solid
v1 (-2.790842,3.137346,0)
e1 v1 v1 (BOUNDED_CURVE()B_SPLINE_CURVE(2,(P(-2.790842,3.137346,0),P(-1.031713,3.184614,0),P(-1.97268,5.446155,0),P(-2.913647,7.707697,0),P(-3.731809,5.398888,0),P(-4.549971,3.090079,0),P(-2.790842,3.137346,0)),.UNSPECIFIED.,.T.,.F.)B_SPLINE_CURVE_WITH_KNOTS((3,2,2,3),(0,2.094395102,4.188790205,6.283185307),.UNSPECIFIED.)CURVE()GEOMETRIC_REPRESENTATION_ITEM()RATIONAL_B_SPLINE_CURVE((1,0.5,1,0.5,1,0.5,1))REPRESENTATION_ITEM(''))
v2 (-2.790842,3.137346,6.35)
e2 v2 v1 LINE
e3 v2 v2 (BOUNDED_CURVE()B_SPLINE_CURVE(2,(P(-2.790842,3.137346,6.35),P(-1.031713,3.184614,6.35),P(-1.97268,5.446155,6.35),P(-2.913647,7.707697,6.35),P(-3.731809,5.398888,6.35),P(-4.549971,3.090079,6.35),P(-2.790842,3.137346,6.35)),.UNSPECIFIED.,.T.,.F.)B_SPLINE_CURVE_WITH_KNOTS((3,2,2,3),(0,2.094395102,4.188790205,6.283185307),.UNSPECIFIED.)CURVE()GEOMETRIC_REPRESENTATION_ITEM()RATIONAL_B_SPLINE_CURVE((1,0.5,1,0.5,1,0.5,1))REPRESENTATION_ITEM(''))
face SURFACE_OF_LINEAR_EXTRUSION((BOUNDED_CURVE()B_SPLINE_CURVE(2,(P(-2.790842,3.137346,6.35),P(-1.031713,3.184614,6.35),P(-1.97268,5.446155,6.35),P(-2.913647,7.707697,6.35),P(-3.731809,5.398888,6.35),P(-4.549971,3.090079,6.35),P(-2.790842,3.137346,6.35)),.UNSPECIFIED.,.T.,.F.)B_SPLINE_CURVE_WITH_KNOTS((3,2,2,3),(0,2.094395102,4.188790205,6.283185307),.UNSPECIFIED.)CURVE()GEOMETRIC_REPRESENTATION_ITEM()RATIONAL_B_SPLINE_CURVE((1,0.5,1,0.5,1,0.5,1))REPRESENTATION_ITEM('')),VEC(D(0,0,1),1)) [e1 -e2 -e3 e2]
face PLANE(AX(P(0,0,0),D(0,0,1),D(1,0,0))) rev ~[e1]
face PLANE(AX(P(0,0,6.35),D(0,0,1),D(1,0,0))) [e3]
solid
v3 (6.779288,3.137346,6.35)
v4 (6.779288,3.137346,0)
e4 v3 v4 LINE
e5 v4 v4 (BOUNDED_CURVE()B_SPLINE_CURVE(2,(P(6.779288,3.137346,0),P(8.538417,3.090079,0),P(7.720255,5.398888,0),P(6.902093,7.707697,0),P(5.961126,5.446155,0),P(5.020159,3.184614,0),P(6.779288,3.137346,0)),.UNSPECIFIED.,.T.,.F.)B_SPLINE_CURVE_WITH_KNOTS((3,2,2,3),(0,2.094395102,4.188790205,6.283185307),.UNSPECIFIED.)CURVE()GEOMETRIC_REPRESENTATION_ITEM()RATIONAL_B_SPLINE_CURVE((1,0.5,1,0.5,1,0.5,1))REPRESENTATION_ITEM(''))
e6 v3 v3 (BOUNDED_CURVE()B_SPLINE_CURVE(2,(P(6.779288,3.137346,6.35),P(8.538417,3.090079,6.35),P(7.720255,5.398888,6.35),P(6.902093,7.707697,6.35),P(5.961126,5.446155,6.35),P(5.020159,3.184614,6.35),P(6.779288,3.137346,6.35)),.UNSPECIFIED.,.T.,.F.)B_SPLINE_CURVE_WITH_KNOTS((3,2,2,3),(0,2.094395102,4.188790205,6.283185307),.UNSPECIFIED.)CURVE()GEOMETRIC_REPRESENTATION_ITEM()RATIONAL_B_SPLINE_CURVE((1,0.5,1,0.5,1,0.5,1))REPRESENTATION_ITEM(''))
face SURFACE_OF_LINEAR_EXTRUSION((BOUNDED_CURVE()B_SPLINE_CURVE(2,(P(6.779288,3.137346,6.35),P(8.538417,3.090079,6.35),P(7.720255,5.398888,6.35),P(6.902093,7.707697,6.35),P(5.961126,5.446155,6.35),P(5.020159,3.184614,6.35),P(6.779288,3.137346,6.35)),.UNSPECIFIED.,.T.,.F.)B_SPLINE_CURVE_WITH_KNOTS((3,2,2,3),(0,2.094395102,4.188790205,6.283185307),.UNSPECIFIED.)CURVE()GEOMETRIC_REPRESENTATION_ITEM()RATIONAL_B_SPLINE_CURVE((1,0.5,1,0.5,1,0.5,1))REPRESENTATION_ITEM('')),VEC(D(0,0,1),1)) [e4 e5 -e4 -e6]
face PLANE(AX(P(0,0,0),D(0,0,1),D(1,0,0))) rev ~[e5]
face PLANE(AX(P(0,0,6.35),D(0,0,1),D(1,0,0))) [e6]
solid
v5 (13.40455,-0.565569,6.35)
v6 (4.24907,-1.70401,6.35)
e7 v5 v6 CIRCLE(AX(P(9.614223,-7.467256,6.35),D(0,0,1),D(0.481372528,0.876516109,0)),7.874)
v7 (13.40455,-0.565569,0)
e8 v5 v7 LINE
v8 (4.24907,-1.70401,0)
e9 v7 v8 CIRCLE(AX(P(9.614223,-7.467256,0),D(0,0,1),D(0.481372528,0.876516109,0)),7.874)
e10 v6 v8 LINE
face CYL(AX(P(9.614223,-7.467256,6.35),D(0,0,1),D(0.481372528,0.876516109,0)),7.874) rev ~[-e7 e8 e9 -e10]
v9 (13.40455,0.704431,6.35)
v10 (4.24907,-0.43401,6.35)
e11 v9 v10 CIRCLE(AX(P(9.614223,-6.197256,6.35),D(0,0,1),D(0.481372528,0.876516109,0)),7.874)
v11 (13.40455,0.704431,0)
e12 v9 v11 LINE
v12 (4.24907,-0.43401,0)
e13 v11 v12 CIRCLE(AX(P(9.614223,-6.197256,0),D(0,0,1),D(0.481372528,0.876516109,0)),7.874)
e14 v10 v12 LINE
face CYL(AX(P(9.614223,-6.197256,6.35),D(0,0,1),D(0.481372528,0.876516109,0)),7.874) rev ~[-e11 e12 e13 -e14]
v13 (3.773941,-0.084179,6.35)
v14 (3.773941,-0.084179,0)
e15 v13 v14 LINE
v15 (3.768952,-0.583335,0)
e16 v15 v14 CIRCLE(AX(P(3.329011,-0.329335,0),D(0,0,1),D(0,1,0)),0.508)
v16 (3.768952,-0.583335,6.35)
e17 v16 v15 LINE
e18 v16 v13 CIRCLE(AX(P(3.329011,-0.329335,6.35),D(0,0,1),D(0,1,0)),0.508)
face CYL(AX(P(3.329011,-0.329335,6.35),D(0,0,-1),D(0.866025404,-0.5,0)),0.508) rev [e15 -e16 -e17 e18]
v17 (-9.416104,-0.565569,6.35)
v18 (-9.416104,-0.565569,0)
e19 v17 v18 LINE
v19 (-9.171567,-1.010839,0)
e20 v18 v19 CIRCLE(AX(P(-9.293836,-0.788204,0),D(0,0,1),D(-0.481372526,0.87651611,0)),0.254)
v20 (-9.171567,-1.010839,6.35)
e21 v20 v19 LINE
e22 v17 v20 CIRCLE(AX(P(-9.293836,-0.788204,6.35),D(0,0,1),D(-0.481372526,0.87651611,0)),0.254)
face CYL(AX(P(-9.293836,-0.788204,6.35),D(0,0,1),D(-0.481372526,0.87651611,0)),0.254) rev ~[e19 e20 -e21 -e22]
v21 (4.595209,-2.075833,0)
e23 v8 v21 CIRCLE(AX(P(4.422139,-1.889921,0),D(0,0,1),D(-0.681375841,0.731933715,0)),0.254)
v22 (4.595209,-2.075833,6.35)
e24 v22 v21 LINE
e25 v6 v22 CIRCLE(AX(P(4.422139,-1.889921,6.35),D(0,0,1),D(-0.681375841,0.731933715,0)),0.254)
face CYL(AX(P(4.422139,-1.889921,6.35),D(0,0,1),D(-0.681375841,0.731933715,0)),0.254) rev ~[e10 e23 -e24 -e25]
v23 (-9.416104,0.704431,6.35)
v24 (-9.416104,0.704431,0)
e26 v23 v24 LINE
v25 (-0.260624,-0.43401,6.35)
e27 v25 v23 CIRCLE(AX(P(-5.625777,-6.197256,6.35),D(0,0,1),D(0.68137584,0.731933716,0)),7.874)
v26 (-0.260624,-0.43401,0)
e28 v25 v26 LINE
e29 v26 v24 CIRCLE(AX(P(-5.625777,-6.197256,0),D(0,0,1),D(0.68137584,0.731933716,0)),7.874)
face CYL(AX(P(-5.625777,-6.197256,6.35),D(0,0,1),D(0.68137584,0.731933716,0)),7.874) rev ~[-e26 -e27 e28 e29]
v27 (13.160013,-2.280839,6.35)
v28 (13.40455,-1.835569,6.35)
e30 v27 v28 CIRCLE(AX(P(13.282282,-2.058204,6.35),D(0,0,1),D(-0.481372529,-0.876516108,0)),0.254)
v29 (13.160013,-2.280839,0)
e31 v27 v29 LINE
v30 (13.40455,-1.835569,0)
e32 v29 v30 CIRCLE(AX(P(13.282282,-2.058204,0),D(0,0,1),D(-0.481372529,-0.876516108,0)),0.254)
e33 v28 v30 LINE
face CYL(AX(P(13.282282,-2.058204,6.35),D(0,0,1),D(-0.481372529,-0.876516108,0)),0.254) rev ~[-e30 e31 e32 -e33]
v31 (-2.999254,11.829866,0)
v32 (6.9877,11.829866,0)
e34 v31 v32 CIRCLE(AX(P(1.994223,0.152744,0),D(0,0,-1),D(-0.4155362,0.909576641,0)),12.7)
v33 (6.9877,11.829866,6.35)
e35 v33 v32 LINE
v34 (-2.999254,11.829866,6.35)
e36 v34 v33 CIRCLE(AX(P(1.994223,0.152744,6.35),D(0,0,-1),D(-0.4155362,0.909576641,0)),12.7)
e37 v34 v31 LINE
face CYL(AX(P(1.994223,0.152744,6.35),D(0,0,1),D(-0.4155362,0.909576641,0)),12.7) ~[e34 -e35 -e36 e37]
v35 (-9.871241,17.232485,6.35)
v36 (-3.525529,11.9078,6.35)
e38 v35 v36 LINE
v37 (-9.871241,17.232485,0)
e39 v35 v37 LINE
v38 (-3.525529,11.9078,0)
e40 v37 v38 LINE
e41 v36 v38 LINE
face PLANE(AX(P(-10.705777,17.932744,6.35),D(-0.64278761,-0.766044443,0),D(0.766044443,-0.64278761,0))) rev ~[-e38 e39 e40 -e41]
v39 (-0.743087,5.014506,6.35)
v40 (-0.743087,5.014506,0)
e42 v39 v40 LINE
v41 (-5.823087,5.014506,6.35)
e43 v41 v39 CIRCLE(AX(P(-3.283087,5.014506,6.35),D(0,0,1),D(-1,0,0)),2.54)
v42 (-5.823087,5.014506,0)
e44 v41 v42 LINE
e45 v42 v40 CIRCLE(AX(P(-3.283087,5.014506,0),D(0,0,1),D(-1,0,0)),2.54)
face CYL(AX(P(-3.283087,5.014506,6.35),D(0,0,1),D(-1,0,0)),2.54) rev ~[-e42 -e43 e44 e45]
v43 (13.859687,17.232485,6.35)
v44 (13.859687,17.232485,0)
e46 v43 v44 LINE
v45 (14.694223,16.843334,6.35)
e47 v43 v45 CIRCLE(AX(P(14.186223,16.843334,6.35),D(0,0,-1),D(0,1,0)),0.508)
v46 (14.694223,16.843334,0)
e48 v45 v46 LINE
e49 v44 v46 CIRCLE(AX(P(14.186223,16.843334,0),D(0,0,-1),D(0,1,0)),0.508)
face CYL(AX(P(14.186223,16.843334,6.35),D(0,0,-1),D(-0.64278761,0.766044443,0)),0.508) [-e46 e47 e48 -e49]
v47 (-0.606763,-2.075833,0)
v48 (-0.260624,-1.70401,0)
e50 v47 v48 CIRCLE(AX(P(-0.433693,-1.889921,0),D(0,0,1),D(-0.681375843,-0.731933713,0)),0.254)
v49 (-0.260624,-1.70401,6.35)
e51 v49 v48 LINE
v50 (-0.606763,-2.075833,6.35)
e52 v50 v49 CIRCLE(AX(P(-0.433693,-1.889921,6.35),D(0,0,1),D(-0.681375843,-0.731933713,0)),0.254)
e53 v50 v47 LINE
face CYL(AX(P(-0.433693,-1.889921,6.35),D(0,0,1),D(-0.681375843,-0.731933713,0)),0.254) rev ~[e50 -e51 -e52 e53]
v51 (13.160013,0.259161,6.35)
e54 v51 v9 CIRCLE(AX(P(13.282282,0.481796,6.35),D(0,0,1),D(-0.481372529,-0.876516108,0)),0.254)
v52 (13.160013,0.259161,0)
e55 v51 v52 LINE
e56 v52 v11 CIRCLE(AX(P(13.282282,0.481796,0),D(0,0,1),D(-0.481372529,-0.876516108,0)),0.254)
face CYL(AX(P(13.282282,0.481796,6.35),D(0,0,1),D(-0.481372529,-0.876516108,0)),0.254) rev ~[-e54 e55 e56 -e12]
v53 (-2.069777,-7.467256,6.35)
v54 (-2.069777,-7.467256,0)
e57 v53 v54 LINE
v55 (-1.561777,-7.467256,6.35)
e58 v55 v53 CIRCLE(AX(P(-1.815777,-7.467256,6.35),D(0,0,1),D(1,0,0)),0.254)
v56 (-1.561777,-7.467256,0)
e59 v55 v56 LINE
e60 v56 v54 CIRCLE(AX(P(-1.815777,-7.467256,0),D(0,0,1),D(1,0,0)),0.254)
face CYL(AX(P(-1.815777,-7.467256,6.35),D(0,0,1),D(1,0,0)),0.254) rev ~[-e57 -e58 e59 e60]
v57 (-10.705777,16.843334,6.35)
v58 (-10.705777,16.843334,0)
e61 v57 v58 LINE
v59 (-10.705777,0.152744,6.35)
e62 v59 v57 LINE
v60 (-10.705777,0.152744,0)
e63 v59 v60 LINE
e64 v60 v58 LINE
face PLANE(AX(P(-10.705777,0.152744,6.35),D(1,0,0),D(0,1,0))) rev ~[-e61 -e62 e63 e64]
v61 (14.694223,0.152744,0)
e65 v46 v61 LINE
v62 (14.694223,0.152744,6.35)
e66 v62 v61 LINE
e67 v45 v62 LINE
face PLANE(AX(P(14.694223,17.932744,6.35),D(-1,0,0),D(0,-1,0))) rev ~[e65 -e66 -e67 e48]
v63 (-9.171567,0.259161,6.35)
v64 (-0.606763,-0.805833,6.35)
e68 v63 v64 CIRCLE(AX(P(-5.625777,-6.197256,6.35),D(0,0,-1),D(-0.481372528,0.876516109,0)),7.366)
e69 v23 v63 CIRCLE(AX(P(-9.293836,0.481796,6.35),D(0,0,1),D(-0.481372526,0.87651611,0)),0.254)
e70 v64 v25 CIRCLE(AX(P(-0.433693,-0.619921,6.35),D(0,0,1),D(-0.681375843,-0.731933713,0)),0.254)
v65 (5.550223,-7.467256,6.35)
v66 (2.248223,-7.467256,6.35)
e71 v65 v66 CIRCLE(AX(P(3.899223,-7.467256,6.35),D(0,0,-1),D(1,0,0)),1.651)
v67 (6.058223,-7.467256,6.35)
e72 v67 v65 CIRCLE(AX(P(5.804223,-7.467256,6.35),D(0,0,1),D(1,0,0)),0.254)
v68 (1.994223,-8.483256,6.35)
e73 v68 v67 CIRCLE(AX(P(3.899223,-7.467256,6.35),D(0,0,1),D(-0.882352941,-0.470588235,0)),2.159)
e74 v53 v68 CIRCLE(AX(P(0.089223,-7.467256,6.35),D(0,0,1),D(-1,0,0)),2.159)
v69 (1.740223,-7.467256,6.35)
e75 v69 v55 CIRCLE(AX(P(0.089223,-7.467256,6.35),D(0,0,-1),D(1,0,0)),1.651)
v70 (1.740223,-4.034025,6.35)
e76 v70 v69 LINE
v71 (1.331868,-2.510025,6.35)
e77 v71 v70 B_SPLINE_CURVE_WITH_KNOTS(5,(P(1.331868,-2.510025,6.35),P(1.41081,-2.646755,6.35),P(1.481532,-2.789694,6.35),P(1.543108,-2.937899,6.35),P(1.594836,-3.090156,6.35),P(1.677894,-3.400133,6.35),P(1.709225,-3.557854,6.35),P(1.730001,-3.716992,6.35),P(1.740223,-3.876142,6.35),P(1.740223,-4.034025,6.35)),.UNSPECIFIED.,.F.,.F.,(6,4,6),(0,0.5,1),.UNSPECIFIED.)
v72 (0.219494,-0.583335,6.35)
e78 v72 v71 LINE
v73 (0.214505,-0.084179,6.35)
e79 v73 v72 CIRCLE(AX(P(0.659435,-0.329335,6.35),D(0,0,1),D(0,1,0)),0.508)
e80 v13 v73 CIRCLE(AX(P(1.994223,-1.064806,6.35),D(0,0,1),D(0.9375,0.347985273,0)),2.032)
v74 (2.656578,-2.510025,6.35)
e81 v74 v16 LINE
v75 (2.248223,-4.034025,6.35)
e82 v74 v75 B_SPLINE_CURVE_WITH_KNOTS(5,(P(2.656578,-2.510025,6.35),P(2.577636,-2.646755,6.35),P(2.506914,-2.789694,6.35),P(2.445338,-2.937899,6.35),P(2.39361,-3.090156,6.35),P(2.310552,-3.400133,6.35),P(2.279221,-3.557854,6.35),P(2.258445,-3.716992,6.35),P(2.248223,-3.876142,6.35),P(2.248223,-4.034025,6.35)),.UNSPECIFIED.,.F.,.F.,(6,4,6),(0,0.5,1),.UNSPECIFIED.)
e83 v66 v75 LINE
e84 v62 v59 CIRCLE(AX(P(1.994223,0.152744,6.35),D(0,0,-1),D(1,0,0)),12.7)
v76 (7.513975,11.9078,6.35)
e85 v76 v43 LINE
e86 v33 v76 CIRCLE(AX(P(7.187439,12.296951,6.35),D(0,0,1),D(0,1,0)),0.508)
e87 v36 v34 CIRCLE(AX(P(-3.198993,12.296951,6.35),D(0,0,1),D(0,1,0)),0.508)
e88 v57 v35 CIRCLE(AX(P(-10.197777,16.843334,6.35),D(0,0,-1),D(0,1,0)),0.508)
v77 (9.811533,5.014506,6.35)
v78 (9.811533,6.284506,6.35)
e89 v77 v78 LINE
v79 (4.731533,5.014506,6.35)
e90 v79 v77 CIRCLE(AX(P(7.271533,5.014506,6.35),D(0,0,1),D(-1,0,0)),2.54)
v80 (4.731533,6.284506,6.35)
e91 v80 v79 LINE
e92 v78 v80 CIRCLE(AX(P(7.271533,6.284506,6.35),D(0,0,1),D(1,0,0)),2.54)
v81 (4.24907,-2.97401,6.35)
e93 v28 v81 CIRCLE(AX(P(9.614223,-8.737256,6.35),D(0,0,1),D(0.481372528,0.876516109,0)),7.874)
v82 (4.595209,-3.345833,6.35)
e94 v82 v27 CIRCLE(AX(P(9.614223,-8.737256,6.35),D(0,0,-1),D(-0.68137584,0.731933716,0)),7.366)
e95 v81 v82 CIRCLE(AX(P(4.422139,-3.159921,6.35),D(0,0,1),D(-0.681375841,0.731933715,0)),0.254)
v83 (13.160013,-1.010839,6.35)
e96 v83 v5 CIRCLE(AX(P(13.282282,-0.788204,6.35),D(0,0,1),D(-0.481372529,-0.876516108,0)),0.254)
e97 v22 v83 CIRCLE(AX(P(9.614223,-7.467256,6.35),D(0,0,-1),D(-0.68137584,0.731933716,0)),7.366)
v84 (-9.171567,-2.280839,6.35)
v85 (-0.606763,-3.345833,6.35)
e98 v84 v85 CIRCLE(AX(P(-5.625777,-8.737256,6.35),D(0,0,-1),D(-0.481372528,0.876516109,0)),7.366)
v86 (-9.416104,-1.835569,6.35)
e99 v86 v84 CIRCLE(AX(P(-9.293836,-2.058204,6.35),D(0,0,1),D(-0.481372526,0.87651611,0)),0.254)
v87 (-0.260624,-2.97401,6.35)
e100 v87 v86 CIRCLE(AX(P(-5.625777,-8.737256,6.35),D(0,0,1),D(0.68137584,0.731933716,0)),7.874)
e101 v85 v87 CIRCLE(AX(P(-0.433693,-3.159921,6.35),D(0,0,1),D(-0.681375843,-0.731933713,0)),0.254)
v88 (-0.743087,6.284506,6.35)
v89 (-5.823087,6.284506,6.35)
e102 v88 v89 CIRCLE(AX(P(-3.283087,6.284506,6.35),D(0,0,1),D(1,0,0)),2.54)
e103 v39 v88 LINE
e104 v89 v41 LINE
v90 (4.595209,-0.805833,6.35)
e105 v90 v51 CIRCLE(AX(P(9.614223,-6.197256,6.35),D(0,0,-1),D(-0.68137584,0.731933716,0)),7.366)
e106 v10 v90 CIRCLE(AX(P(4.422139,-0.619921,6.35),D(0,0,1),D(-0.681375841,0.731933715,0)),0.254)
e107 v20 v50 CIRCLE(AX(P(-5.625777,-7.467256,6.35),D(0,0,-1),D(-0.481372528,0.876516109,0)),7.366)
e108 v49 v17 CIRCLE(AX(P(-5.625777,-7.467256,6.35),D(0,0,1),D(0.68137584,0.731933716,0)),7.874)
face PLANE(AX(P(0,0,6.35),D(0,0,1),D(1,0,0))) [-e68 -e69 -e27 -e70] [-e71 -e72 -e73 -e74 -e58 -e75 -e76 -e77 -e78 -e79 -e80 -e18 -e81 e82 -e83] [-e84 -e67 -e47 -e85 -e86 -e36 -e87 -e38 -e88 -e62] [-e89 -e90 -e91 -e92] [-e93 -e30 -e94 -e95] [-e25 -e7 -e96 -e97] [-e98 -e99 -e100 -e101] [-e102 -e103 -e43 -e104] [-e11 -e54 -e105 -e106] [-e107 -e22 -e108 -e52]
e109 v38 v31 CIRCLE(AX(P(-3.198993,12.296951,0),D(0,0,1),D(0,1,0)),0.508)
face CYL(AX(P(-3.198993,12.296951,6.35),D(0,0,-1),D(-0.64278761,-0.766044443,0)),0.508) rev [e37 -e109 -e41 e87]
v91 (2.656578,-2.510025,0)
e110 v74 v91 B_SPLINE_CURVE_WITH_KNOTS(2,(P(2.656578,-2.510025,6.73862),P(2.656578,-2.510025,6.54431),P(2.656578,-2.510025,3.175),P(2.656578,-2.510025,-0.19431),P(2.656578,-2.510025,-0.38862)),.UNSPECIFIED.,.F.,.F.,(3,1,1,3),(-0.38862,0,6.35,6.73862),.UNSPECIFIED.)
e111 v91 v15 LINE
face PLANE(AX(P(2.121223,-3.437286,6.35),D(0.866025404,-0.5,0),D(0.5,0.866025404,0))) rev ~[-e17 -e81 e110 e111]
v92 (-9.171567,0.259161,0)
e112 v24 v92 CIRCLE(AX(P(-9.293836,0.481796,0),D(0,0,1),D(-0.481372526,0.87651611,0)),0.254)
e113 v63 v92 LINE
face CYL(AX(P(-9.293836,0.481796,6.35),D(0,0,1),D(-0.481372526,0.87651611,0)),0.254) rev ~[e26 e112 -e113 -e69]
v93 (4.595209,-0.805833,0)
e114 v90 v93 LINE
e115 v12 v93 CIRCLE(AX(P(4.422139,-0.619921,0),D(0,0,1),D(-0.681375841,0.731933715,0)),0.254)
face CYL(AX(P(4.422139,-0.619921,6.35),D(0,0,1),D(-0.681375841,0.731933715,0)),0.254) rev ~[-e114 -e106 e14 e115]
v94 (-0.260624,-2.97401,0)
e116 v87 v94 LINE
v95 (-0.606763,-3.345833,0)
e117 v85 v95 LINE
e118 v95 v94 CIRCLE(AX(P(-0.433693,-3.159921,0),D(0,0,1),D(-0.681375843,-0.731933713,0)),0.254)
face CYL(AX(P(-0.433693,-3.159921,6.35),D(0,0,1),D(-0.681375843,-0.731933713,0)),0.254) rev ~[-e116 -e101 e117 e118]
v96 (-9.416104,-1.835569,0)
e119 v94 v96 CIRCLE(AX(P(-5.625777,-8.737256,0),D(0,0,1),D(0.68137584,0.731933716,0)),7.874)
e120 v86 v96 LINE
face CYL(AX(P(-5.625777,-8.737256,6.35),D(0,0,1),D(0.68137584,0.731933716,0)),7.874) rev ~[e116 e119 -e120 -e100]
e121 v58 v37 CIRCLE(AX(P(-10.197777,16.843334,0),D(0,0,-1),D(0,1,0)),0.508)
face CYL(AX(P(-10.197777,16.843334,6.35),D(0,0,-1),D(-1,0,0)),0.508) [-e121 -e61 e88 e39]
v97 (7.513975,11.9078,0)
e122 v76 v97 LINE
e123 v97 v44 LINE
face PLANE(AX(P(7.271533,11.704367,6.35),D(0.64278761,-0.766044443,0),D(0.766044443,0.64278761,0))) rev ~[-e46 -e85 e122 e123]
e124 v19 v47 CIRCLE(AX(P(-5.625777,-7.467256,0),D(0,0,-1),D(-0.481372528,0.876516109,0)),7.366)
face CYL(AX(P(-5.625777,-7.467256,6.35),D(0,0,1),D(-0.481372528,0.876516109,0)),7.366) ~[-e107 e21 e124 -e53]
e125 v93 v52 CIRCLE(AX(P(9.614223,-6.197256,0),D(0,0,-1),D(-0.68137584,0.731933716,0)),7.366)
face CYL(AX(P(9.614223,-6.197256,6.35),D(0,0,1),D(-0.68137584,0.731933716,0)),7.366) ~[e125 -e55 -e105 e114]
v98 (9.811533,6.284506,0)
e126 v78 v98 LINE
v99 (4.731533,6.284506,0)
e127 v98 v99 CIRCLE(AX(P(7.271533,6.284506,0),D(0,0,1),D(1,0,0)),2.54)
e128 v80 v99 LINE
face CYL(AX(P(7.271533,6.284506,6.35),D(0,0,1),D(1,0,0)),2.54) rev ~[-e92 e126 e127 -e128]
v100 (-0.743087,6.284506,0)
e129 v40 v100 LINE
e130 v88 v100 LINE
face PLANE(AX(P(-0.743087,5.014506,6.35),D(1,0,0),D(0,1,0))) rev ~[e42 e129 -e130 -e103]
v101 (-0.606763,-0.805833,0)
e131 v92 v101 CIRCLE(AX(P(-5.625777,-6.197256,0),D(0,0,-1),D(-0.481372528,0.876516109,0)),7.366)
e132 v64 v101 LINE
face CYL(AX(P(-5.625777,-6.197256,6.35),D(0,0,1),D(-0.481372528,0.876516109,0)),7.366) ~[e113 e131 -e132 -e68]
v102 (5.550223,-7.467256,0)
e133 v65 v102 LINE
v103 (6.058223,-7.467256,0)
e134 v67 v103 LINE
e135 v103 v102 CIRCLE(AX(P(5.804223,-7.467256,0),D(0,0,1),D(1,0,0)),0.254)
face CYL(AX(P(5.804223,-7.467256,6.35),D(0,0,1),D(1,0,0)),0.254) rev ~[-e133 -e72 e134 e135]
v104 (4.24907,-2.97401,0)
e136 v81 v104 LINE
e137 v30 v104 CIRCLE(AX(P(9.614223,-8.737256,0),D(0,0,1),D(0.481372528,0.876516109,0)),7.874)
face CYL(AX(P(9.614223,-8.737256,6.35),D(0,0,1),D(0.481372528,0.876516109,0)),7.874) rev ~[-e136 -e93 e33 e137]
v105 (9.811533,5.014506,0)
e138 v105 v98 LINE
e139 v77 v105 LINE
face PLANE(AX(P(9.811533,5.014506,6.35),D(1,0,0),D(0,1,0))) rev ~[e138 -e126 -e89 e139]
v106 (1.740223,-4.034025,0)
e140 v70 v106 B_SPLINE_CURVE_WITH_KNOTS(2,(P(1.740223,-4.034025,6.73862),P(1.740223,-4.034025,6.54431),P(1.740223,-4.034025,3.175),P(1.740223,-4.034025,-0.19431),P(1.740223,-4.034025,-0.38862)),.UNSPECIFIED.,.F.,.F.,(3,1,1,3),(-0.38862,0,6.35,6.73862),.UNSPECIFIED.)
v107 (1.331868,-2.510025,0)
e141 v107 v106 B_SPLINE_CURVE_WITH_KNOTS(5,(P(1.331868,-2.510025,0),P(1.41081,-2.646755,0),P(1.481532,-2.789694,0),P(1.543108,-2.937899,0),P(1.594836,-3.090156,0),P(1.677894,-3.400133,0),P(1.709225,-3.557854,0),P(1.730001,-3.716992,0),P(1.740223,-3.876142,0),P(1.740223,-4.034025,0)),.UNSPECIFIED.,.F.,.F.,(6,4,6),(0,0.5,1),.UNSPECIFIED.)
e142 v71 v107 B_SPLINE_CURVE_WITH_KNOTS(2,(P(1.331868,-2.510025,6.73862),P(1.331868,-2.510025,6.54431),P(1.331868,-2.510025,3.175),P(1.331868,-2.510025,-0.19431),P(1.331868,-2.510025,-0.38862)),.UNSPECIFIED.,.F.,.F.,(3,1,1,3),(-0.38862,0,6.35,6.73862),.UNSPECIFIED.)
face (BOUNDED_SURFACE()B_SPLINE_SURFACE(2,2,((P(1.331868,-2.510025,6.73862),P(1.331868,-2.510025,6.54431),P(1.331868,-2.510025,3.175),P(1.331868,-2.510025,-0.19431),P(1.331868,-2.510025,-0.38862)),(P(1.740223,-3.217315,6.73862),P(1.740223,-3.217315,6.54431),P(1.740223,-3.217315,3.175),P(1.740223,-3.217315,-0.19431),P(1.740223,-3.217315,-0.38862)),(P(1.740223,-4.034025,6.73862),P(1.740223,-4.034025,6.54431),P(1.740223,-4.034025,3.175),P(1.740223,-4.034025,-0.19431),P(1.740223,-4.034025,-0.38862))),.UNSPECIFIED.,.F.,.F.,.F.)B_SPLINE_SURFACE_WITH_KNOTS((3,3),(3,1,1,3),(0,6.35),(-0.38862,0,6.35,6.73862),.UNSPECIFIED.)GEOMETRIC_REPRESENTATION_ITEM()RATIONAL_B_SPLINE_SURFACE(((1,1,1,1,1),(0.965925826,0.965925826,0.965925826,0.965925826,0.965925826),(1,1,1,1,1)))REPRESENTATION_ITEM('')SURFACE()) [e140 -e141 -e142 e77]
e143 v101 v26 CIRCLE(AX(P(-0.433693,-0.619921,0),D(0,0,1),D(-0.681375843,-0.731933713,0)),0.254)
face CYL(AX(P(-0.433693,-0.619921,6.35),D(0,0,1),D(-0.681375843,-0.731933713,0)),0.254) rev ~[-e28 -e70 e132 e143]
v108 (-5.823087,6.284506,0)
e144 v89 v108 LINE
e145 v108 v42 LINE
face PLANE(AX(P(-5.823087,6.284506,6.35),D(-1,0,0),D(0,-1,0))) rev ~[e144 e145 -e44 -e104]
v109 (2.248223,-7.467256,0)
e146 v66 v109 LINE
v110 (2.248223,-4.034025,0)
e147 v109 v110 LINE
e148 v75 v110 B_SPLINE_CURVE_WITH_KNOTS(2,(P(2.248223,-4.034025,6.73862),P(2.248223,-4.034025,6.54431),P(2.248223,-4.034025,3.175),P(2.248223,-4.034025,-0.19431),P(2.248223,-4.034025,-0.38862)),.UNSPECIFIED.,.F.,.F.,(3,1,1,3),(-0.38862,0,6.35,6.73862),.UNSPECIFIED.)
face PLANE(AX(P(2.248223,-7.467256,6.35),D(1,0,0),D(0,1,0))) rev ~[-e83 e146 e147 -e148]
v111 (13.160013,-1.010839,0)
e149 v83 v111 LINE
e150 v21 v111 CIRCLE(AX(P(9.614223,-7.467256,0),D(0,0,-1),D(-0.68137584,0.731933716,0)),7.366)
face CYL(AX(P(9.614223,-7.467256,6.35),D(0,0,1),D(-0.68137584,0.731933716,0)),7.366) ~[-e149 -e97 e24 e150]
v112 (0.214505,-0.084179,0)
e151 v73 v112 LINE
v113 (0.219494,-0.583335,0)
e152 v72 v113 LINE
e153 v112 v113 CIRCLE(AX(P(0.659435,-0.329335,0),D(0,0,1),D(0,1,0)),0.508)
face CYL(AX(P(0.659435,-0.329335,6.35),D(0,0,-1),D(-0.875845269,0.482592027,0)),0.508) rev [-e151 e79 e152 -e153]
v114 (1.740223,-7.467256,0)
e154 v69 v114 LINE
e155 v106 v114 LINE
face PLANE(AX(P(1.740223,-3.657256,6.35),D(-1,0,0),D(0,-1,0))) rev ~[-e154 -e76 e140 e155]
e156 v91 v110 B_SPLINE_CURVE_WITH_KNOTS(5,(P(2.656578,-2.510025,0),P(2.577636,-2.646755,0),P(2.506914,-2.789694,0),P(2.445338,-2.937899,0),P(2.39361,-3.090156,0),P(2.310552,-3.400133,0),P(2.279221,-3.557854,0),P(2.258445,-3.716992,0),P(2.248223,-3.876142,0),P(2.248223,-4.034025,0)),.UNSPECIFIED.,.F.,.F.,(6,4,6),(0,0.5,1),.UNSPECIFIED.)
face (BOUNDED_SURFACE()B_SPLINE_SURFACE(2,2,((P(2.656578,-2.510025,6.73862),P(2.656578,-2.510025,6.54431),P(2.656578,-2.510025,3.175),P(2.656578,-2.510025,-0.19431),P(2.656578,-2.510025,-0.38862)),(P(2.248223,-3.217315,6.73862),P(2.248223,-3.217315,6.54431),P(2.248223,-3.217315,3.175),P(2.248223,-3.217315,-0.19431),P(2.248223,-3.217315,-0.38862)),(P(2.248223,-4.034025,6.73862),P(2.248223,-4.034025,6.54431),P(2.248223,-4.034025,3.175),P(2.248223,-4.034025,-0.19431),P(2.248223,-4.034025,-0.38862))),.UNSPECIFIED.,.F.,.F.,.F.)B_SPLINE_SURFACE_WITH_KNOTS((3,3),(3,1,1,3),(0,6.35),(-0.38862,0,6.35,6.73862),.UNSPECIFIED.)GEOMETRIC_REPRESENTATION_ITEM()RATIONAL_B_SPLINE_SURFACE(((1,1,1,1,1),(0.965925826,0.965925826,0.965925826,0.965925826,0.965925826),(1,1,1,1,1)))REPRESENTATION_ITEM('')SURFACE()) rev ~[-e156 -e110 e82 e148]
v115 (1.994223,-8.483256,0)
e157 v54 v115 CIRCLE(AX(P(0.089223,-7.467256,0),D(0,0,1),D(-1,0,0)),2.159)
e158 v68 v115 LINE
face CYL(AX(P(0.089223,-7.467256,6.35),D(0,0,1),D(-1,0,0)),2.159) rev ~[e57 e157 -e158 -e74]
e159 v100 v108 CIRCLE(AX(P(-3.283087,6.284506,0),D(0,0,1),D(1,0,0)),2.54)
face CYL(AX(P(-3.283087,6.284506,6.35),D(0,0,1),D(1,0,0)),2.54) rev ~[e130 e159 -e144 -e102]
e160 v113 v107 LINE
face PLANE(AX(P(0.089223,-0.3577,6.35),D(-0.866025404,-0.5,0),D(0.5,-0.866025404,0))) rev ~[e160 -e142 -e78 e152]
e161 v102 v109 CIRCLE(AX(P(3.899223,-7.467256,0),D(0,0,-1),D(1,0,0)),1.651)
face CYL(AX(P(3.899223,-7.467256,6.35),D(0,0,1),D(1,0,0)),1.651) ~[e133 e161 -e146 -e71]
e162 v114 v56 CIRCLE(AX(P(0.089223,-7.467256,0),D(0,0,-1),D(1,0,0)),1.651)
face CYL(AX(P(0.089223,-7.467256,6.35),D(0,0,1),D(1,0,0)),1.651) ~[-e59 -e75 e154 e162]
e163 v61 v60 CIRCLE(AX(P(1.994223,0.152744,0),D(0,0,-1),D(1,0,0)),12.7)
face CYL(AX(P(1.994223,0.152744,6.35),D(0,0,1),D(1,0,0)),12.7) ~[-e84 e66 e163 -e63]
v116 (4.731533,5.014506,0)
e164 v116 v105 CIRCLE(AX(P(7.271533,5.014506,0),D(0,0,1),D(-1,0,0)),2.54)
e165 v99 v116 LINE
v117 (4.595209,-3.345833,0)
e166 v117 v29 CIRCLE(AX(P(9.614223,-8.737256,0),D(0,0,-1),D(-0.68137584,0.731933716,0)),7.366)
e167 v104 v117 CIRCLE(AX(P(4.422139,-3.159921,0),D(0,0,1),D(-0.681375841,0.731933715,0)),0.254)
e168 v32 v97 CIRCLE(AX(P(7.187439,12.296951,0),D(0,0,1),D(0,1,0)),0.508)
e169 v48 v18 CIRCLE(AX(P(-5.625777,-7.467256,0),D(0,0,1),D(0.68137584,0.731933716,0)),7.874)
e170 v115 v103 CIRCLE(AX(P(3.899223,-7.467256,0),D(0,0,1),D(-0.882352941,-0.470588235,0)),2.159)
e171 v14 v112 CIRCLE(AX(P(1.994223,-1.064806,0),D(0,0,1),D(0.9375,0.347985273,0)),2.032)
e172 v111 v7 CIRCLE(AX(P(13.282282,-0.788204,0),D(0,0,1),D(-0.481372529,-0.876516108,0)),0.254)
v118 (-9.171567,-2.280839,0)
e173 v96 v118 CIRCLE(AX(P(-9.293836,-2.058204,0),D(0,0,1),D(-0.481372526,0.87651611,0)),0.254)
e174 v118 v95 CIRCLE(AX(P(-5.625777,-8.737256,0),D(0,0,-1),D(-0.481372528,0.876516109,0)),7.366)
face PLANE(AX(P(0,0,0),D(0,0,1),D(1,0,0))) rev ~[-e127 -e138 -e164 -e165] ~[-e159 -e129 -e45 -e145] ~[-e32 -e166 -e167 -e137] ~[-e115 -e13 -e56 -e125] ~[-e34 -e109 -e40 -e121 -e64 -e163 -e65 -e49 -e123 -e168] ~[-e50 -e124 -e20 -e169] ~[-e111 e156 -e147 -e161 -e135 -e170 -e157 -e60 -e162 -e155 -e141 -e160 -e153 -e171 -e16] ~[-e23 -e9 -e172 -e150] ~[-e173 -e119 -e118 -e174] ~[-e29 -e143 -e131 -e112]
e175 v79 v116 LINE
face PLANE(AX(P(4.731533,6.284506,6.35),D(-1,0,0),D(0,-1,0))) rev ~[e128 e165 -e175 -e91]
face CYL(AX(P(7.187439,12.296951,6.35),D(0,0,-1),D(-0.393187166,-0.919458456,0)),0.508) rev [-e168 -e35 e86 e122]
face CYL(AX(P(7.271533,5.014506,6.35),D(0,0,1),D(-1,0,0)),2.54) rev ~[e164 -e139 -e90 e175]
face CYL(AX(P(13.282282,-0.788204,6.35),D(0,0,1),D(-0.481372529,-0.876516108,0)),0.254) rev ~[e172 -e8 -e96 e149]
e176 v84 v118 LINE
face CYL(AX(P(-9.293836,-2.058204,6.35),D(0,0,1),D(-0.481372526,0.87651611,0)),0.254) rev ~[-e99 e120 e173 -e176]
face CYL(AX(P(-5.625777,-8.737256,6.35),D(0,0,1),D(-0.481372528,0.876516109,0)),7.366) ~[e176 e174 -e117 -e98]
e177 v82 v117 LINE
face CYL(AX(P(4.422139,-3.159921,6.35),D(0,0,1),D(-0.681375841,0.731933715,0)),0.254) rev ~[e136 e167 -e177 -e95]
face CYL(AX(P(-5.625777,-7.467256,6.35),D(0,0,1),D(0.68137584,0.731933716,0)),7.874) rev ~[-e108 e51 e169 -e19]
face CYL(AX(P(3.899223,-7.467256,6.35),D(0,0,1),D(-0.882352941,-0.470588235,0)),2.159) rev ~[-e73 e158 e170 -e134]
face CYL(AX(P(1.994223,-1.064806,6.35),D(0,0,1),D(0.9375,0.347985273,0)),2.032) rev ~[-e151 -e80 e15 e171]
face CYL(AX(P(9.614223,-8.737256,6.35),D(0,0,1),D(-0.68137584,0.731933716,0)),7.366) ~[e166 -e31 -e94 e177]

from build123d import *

# Parameters (mm, degrees)
SKETCH1_W           = 50.8
SKETCH1_H           = 50.8
BOSS_EXTRUDE1_DEPTH = 6.35
SKETCH4_W           = 50.8
SKETCH4_H           = 50.8
CUT_EXTRUDE7_DEPTH  = 6.35
FILLET4_R           = 0.508
FILLET5_R           = 3.048


with BuildPart() as part:
    # Sketch1 → Boss-Extrude1 (new body)
    with BuildSketch(Plane.XY):
        Rectangle(SKETCH1_W, SKETCH1_H)
    extrude(amount=BOSS_EXTRUDE1_DEPTH)

    # Sketch4 → Cut-Extrude7 (cut)
    # profile 1 of 10: a face of its own
    with BuildSketch(Plane.XY.offset(6.35)):
        Rectangle(SKETCH4_W, SKETCH4_H)
        with BuildLine():
            Line((-10.705776979, 0.152743606), (-10.705776979, 17.932743606))
            Line((-10.705776979, 17.932743606), (-3.283086722, 11.704366949))
            ThreePointArc((-3.283086722, 11.704366949), (1.994223021, 12.852743606), (7.271532765, 11.704366949))
            Line((7.271532765, 11.704366949), (14.694223021, 17.932743606))
            Line((14.694223021, 17.932743606), (14.694223021, 0.152743606))
            ThreePointArc((14.694223021, 0.152743606), (1.994223021, -12.547256394), (-10.705776979, 0.152743606))
        make_face(mode=Mode.SUBTRACT)
    # profile 2 of 10: a face of its own
    with BuildSketch(Plane.XY.offset(6.35)):
        with BuildLine():
            ThreePointArc((-9.416104266, 0.704431447), (-9.516470736, 0.359527733), (-9.171567022, 0.259161264))
            ThreePointArc((-9.171567022, 0.259161264), (-4.716848746, 1.112449856), (-0.606762542, -0.805832641))
            ThreePointArc((-0.606762542, -0.805832641), (-0.247781914, -0.792990941), (-0.260623615, -0.434010314))
            ThreePointArc((-0.260623615, -0.434010314), (-4.65416404, 1.616567529), (-9.416104266, 0.704431447))
        make_face()
    # profile 3 of 10: a face of its own
    with BuildSketch(Plane.XY.offset(6.35)):
        with BuildLine():
            ThreePointArc((-9.416104266, -1.835568553), (-9.516470736, -2.180472267), (-9.171567022, -2.280838736))
            ThreePointArc((-9.171567022, -2.280838736), (-4.716848746, -1.427550144), (-0.606762542, -3.345832641))
            ThreePointArc((-0.606762542, -3.345832641), (-0.247781914, -3.332990941), (-0.260623615, -2.974010314))
            ThreePointArc((-0.260623615, -2.974010314), (-4.65416404, -0.923432471), (-9.416104266, -1.835568553))
        make_face()
    # profile 4 of 10: a face of its own
    with BuildSketch(Plane.XY.offset(6.35)):
        with BuildLine():
            ThreePointArc((-9.416104266, -0.565568553), (-9.516470736, -0.910472267), (-9.171567022, -1.010838736))
            ThreePointArc((-9.171567022, -1.010838736), (-4.716848746, -0.157550144), (-0.606762542, -2.075832641))
            ThreePointArc((-0.606762542, -2.075832641), (-0.247781914, -2.062990941), (-0.260623615, -1.704010314))
            ThreePointArc((-0.260623615, -1.704010314), (-4.65416404, 0.346567529), (-9.416104266, -0.565568553))
        make_face()
    # profile 5 of 10: a face of its own
    with BuildSketch(Plane.XY.offset(6.35)):
        with BuildLine():
            ThreePointArc((13.404550309, -1.835568553), (8.642610082, -0.923432471), (4.249069657, -2.974010314))
            ThreePointArc((4.249069657, -2.974010314), (4.236227957, -3.332990941), (4.595208584, -3.345832641))
            ThreePointArc((4.595208584, -3.345832641), (8.705294788, -1.427550144), (13.160013064, -2.280838736))
            ThreePointArc((13.160013064, -2.280838736), (13.504916778, -2.180472267), (13.404550309, -1.835568553))
        make_face()
    # profile 6 of 10: a face of its own
    with BuildSketch(Plane.XY.offset(6.35)):
        with BuildLine():
            ThreePointArc((4.249069657, -0.434010314), (4.236227957, -0.792990941), (4.595208584, -0.805832641))
            ThreePointArc((4.595208584, -0.805832641), (8.705294788, 1.112449856), (13.160013064, 0.259161264))
            ThreePointArc((13.160013064, 0.259161264), (13.504916778, 0.359527733), (13.404550309, 0.704431447))
            ThreePointArc((13.404550309, 0.704431447), (8.642610082, 1.616567529), (4.249069657, -0.434010314))
        make_face()
    # profile 7 of 10: a face of its own
    with BuildSketch(Plane.XY.offset(6.35)):
        with BuildLine():
            ThreePointArc((13.404550309, -0.565568553), (8.642610082, 0.346567529), (4.249069657, -1.704010314))
            ThreePointArc((4.249069657, -1.704010314), (4.236227957, -2.062990941), (4.595208584, -2.075832641))
            ThreePointArc((4.595208584, -2.075832641), (8.705294788, -0.157550144), (13.160013064, -1.010838736))
            ThreePointArc((13.160013064, -1.010838736), (13.504916778, -0.910472267), (13.404550309, -0.565568553))
        make_face()
    # profile 8 of 10: a face of its own
    with BuildSketch(Plane.XY.offset(6.35)):
        with BuildLine():
            ThreePointArc((9.811532765, 6.28450646), (7.271532765, 8.82450646), (4.731532765, 6.28450646))
            Line((4.731532765, 6.28450646), (4.731532765, 5.01450646))
            ThreePointArc((4.731532765, 5.01450646), (7.271532765, 2.47450646), (9.811532765, 5.01450646))
            Line((9.811532765, 5.01450646), (9.811532765, 6.28450646))
        make_face()
        with BuildLine():
            add(Edge.make_bspline(
                [(6.77928811, 3.137346259), (8.538416808, 3.090078695), (7.720254826, 5.398887689), (6.902092844, 7.707696683), (5.961126128, 5.446155254), (5.020159411, 3.184613824), (6.77928811, 3.137346259)],
                knots=[0, 0, 0, 2.094395102, 2.094395102, 4.188790205, 4.188790205, 6.283185307, 6.283185307, 6.283185307], degree=2, weights=[1, 0.5, 1, 0.5, 1, 0.5, 1]))
        make_face(mode=Mode.SUBTRACT)
    # profile 9 of 10: a face of its own
    with BuildSketch(Plane.XY.offset(6.35)):
        with BuildLine():
            Line((-0.743086722, 5.01450646), (-0.743086722, 6.28450646))
            ThreePointArc((-0.743086722, 6.28450646), (-3.283086722, 8.82450646), (-5.823086722, 6.28450646))
            Line((-5.823086722, 6.28450646), (-5.823086722, 5.01450646))
            ThreePointArc((-5.823086722, 5.01450646), (-3.283086722, 2.47450646), (-0.743086722, 5.01450646))
        make_face()
        with BuildLine():
            add(Edge.make_bspline(
                [(-2.790842067, 3.137346259), (-1.031713369, 3.184613824), (-1.972680085, 5.446155254), (-2.913646802, 7.707696683), (-3.731808784, 5.398887689), (-4.549970766, 3.090078695), (-2.790842067, 3.137346259)],
                knots=[0, 0, 0, 2.094395102, 2.094395102, 4.188790205, 4.188790205, 6.283185307, 6.283185307, 6.283185307], degree=2, weights=[1, 0.5, 1, 0.5, 1, 0.5, 1]))
        make_face(mode=Mode.SUBTRACT)
    # profile 10 of 10: a face of its own
    with BuildSketch(Plane.XY.offset(6.35)):
        with BuildLine():
            ThreePointArc((1.867223021, -3.437285941), (1.774252569, -3.530256394), (1.740223021, -3.657256394))
            Line((1.740223021, -3.657256394), (1.740223021, -7.467256394))
            ThreePointArc((1.740223021, -7.467256394), (0.089223021, -9.118256394), (-1.561776979, -7.467256394))
            ThreePointArc((-1.561776979, -7.467256394), (-1.815776979, -7.213256394), (-2.069776979, -7.467256394))
            ThreePointArc((-2.069776979, -7.467256394), (-0.434411393, -9.561794052), (1.994223021, -8.483256394))
            ThreePointArc((1.994223021, -8.483256394), (4.422857436, -9.561794052), (6.058223021, -7.467256394))
            ThreePointArc((6.058223021, -7.467256394), (5.804223021, -7.213256394), (5.550223021, -7.467256394))
            ThreePointArc((5.550223021, -7.467256394), (3.899223021, -9.118256394), (2.248223021, -7.467256394))
            Line((2.248223021, -7.467256394), (2.248223021, -3.657256394))
            ThreePointArc((2.248223021, -3.657256394), (2.214193474, -3.530256394), (2.121223021, -3.437285941))
            Line((2.121223021, -3.437285941), (3.899223021, -0.357699606))
            ThreePointArc((3.899223021, -0.357699606), (1.994223021, 0.96719432), (0.089223021, -0.357699606))
            Line((0.089223021, -0.357699606), (1.867223021, -3.437285941))
        make_face()
    extrude(amount=-CUT_EXTRUDE7_DEPTH, mode=Mode.SUBTRACT)


with BuildPart() as cut_extrude7_piece_1:
    # of the separate pieces the step leaves, piece 1, a body of its own (cut_extrude7_pieces)
    add(part.part.solids().sort_by_distance((14.694223021, 17.932743606, 0))[0])

    # Fillet4
    fillet4_edges = [cut_extrude7_piece_1.edges().sort_by_distance(p)[0] for p in [
        (0.089223021, -0.357699606, 3.175),
        (3.899223021, -0.357699606, 3.175),
        (14.694223021, 17.932743606, 3.175),
        (7.271532765, 11.704366949, 3.175),
        (-3.283086722, 11.704366949, 3.175),
        (-10.705776979, 17.932743606, 3.175),
    ]]
    fillet(fillet4_edges, radius=FILLET4_R)

    # Fillet5
    fillet5_edges = [cut_extrude7_piece_1.edges().sort_by_distance(p)[0] for p in [
        (2.121223021, -3.437285941, 3.175),
        (1.867223021, -3.437285941, 3.175),
    ]]
    fillet(fillet5_edges, radius=FILLET5_R)


with BuildPart() as cut_extrude7_piece_2:
    # of the separate pieces the step leaves, piece 2, a body of its own (cut_extrude7_pieces)
    add(part.part.solids().sort_by_distance((-2.790842067, 3.137346259, 0))[0])


with BuildPart() as cut_extrude7_piece_3:
    # of the separate pieces the step leaves, piece 3, a body of its own (cut_extrude7_pieces)
    add(part.part.solids().sort_by_distance((6.77928811, 3.137346259, 0))[0])


solid = Compound([cut_extrude7_piece_1.part, cut_extrude7_piece_2.part, cut_extrude7_piece_3.part])
